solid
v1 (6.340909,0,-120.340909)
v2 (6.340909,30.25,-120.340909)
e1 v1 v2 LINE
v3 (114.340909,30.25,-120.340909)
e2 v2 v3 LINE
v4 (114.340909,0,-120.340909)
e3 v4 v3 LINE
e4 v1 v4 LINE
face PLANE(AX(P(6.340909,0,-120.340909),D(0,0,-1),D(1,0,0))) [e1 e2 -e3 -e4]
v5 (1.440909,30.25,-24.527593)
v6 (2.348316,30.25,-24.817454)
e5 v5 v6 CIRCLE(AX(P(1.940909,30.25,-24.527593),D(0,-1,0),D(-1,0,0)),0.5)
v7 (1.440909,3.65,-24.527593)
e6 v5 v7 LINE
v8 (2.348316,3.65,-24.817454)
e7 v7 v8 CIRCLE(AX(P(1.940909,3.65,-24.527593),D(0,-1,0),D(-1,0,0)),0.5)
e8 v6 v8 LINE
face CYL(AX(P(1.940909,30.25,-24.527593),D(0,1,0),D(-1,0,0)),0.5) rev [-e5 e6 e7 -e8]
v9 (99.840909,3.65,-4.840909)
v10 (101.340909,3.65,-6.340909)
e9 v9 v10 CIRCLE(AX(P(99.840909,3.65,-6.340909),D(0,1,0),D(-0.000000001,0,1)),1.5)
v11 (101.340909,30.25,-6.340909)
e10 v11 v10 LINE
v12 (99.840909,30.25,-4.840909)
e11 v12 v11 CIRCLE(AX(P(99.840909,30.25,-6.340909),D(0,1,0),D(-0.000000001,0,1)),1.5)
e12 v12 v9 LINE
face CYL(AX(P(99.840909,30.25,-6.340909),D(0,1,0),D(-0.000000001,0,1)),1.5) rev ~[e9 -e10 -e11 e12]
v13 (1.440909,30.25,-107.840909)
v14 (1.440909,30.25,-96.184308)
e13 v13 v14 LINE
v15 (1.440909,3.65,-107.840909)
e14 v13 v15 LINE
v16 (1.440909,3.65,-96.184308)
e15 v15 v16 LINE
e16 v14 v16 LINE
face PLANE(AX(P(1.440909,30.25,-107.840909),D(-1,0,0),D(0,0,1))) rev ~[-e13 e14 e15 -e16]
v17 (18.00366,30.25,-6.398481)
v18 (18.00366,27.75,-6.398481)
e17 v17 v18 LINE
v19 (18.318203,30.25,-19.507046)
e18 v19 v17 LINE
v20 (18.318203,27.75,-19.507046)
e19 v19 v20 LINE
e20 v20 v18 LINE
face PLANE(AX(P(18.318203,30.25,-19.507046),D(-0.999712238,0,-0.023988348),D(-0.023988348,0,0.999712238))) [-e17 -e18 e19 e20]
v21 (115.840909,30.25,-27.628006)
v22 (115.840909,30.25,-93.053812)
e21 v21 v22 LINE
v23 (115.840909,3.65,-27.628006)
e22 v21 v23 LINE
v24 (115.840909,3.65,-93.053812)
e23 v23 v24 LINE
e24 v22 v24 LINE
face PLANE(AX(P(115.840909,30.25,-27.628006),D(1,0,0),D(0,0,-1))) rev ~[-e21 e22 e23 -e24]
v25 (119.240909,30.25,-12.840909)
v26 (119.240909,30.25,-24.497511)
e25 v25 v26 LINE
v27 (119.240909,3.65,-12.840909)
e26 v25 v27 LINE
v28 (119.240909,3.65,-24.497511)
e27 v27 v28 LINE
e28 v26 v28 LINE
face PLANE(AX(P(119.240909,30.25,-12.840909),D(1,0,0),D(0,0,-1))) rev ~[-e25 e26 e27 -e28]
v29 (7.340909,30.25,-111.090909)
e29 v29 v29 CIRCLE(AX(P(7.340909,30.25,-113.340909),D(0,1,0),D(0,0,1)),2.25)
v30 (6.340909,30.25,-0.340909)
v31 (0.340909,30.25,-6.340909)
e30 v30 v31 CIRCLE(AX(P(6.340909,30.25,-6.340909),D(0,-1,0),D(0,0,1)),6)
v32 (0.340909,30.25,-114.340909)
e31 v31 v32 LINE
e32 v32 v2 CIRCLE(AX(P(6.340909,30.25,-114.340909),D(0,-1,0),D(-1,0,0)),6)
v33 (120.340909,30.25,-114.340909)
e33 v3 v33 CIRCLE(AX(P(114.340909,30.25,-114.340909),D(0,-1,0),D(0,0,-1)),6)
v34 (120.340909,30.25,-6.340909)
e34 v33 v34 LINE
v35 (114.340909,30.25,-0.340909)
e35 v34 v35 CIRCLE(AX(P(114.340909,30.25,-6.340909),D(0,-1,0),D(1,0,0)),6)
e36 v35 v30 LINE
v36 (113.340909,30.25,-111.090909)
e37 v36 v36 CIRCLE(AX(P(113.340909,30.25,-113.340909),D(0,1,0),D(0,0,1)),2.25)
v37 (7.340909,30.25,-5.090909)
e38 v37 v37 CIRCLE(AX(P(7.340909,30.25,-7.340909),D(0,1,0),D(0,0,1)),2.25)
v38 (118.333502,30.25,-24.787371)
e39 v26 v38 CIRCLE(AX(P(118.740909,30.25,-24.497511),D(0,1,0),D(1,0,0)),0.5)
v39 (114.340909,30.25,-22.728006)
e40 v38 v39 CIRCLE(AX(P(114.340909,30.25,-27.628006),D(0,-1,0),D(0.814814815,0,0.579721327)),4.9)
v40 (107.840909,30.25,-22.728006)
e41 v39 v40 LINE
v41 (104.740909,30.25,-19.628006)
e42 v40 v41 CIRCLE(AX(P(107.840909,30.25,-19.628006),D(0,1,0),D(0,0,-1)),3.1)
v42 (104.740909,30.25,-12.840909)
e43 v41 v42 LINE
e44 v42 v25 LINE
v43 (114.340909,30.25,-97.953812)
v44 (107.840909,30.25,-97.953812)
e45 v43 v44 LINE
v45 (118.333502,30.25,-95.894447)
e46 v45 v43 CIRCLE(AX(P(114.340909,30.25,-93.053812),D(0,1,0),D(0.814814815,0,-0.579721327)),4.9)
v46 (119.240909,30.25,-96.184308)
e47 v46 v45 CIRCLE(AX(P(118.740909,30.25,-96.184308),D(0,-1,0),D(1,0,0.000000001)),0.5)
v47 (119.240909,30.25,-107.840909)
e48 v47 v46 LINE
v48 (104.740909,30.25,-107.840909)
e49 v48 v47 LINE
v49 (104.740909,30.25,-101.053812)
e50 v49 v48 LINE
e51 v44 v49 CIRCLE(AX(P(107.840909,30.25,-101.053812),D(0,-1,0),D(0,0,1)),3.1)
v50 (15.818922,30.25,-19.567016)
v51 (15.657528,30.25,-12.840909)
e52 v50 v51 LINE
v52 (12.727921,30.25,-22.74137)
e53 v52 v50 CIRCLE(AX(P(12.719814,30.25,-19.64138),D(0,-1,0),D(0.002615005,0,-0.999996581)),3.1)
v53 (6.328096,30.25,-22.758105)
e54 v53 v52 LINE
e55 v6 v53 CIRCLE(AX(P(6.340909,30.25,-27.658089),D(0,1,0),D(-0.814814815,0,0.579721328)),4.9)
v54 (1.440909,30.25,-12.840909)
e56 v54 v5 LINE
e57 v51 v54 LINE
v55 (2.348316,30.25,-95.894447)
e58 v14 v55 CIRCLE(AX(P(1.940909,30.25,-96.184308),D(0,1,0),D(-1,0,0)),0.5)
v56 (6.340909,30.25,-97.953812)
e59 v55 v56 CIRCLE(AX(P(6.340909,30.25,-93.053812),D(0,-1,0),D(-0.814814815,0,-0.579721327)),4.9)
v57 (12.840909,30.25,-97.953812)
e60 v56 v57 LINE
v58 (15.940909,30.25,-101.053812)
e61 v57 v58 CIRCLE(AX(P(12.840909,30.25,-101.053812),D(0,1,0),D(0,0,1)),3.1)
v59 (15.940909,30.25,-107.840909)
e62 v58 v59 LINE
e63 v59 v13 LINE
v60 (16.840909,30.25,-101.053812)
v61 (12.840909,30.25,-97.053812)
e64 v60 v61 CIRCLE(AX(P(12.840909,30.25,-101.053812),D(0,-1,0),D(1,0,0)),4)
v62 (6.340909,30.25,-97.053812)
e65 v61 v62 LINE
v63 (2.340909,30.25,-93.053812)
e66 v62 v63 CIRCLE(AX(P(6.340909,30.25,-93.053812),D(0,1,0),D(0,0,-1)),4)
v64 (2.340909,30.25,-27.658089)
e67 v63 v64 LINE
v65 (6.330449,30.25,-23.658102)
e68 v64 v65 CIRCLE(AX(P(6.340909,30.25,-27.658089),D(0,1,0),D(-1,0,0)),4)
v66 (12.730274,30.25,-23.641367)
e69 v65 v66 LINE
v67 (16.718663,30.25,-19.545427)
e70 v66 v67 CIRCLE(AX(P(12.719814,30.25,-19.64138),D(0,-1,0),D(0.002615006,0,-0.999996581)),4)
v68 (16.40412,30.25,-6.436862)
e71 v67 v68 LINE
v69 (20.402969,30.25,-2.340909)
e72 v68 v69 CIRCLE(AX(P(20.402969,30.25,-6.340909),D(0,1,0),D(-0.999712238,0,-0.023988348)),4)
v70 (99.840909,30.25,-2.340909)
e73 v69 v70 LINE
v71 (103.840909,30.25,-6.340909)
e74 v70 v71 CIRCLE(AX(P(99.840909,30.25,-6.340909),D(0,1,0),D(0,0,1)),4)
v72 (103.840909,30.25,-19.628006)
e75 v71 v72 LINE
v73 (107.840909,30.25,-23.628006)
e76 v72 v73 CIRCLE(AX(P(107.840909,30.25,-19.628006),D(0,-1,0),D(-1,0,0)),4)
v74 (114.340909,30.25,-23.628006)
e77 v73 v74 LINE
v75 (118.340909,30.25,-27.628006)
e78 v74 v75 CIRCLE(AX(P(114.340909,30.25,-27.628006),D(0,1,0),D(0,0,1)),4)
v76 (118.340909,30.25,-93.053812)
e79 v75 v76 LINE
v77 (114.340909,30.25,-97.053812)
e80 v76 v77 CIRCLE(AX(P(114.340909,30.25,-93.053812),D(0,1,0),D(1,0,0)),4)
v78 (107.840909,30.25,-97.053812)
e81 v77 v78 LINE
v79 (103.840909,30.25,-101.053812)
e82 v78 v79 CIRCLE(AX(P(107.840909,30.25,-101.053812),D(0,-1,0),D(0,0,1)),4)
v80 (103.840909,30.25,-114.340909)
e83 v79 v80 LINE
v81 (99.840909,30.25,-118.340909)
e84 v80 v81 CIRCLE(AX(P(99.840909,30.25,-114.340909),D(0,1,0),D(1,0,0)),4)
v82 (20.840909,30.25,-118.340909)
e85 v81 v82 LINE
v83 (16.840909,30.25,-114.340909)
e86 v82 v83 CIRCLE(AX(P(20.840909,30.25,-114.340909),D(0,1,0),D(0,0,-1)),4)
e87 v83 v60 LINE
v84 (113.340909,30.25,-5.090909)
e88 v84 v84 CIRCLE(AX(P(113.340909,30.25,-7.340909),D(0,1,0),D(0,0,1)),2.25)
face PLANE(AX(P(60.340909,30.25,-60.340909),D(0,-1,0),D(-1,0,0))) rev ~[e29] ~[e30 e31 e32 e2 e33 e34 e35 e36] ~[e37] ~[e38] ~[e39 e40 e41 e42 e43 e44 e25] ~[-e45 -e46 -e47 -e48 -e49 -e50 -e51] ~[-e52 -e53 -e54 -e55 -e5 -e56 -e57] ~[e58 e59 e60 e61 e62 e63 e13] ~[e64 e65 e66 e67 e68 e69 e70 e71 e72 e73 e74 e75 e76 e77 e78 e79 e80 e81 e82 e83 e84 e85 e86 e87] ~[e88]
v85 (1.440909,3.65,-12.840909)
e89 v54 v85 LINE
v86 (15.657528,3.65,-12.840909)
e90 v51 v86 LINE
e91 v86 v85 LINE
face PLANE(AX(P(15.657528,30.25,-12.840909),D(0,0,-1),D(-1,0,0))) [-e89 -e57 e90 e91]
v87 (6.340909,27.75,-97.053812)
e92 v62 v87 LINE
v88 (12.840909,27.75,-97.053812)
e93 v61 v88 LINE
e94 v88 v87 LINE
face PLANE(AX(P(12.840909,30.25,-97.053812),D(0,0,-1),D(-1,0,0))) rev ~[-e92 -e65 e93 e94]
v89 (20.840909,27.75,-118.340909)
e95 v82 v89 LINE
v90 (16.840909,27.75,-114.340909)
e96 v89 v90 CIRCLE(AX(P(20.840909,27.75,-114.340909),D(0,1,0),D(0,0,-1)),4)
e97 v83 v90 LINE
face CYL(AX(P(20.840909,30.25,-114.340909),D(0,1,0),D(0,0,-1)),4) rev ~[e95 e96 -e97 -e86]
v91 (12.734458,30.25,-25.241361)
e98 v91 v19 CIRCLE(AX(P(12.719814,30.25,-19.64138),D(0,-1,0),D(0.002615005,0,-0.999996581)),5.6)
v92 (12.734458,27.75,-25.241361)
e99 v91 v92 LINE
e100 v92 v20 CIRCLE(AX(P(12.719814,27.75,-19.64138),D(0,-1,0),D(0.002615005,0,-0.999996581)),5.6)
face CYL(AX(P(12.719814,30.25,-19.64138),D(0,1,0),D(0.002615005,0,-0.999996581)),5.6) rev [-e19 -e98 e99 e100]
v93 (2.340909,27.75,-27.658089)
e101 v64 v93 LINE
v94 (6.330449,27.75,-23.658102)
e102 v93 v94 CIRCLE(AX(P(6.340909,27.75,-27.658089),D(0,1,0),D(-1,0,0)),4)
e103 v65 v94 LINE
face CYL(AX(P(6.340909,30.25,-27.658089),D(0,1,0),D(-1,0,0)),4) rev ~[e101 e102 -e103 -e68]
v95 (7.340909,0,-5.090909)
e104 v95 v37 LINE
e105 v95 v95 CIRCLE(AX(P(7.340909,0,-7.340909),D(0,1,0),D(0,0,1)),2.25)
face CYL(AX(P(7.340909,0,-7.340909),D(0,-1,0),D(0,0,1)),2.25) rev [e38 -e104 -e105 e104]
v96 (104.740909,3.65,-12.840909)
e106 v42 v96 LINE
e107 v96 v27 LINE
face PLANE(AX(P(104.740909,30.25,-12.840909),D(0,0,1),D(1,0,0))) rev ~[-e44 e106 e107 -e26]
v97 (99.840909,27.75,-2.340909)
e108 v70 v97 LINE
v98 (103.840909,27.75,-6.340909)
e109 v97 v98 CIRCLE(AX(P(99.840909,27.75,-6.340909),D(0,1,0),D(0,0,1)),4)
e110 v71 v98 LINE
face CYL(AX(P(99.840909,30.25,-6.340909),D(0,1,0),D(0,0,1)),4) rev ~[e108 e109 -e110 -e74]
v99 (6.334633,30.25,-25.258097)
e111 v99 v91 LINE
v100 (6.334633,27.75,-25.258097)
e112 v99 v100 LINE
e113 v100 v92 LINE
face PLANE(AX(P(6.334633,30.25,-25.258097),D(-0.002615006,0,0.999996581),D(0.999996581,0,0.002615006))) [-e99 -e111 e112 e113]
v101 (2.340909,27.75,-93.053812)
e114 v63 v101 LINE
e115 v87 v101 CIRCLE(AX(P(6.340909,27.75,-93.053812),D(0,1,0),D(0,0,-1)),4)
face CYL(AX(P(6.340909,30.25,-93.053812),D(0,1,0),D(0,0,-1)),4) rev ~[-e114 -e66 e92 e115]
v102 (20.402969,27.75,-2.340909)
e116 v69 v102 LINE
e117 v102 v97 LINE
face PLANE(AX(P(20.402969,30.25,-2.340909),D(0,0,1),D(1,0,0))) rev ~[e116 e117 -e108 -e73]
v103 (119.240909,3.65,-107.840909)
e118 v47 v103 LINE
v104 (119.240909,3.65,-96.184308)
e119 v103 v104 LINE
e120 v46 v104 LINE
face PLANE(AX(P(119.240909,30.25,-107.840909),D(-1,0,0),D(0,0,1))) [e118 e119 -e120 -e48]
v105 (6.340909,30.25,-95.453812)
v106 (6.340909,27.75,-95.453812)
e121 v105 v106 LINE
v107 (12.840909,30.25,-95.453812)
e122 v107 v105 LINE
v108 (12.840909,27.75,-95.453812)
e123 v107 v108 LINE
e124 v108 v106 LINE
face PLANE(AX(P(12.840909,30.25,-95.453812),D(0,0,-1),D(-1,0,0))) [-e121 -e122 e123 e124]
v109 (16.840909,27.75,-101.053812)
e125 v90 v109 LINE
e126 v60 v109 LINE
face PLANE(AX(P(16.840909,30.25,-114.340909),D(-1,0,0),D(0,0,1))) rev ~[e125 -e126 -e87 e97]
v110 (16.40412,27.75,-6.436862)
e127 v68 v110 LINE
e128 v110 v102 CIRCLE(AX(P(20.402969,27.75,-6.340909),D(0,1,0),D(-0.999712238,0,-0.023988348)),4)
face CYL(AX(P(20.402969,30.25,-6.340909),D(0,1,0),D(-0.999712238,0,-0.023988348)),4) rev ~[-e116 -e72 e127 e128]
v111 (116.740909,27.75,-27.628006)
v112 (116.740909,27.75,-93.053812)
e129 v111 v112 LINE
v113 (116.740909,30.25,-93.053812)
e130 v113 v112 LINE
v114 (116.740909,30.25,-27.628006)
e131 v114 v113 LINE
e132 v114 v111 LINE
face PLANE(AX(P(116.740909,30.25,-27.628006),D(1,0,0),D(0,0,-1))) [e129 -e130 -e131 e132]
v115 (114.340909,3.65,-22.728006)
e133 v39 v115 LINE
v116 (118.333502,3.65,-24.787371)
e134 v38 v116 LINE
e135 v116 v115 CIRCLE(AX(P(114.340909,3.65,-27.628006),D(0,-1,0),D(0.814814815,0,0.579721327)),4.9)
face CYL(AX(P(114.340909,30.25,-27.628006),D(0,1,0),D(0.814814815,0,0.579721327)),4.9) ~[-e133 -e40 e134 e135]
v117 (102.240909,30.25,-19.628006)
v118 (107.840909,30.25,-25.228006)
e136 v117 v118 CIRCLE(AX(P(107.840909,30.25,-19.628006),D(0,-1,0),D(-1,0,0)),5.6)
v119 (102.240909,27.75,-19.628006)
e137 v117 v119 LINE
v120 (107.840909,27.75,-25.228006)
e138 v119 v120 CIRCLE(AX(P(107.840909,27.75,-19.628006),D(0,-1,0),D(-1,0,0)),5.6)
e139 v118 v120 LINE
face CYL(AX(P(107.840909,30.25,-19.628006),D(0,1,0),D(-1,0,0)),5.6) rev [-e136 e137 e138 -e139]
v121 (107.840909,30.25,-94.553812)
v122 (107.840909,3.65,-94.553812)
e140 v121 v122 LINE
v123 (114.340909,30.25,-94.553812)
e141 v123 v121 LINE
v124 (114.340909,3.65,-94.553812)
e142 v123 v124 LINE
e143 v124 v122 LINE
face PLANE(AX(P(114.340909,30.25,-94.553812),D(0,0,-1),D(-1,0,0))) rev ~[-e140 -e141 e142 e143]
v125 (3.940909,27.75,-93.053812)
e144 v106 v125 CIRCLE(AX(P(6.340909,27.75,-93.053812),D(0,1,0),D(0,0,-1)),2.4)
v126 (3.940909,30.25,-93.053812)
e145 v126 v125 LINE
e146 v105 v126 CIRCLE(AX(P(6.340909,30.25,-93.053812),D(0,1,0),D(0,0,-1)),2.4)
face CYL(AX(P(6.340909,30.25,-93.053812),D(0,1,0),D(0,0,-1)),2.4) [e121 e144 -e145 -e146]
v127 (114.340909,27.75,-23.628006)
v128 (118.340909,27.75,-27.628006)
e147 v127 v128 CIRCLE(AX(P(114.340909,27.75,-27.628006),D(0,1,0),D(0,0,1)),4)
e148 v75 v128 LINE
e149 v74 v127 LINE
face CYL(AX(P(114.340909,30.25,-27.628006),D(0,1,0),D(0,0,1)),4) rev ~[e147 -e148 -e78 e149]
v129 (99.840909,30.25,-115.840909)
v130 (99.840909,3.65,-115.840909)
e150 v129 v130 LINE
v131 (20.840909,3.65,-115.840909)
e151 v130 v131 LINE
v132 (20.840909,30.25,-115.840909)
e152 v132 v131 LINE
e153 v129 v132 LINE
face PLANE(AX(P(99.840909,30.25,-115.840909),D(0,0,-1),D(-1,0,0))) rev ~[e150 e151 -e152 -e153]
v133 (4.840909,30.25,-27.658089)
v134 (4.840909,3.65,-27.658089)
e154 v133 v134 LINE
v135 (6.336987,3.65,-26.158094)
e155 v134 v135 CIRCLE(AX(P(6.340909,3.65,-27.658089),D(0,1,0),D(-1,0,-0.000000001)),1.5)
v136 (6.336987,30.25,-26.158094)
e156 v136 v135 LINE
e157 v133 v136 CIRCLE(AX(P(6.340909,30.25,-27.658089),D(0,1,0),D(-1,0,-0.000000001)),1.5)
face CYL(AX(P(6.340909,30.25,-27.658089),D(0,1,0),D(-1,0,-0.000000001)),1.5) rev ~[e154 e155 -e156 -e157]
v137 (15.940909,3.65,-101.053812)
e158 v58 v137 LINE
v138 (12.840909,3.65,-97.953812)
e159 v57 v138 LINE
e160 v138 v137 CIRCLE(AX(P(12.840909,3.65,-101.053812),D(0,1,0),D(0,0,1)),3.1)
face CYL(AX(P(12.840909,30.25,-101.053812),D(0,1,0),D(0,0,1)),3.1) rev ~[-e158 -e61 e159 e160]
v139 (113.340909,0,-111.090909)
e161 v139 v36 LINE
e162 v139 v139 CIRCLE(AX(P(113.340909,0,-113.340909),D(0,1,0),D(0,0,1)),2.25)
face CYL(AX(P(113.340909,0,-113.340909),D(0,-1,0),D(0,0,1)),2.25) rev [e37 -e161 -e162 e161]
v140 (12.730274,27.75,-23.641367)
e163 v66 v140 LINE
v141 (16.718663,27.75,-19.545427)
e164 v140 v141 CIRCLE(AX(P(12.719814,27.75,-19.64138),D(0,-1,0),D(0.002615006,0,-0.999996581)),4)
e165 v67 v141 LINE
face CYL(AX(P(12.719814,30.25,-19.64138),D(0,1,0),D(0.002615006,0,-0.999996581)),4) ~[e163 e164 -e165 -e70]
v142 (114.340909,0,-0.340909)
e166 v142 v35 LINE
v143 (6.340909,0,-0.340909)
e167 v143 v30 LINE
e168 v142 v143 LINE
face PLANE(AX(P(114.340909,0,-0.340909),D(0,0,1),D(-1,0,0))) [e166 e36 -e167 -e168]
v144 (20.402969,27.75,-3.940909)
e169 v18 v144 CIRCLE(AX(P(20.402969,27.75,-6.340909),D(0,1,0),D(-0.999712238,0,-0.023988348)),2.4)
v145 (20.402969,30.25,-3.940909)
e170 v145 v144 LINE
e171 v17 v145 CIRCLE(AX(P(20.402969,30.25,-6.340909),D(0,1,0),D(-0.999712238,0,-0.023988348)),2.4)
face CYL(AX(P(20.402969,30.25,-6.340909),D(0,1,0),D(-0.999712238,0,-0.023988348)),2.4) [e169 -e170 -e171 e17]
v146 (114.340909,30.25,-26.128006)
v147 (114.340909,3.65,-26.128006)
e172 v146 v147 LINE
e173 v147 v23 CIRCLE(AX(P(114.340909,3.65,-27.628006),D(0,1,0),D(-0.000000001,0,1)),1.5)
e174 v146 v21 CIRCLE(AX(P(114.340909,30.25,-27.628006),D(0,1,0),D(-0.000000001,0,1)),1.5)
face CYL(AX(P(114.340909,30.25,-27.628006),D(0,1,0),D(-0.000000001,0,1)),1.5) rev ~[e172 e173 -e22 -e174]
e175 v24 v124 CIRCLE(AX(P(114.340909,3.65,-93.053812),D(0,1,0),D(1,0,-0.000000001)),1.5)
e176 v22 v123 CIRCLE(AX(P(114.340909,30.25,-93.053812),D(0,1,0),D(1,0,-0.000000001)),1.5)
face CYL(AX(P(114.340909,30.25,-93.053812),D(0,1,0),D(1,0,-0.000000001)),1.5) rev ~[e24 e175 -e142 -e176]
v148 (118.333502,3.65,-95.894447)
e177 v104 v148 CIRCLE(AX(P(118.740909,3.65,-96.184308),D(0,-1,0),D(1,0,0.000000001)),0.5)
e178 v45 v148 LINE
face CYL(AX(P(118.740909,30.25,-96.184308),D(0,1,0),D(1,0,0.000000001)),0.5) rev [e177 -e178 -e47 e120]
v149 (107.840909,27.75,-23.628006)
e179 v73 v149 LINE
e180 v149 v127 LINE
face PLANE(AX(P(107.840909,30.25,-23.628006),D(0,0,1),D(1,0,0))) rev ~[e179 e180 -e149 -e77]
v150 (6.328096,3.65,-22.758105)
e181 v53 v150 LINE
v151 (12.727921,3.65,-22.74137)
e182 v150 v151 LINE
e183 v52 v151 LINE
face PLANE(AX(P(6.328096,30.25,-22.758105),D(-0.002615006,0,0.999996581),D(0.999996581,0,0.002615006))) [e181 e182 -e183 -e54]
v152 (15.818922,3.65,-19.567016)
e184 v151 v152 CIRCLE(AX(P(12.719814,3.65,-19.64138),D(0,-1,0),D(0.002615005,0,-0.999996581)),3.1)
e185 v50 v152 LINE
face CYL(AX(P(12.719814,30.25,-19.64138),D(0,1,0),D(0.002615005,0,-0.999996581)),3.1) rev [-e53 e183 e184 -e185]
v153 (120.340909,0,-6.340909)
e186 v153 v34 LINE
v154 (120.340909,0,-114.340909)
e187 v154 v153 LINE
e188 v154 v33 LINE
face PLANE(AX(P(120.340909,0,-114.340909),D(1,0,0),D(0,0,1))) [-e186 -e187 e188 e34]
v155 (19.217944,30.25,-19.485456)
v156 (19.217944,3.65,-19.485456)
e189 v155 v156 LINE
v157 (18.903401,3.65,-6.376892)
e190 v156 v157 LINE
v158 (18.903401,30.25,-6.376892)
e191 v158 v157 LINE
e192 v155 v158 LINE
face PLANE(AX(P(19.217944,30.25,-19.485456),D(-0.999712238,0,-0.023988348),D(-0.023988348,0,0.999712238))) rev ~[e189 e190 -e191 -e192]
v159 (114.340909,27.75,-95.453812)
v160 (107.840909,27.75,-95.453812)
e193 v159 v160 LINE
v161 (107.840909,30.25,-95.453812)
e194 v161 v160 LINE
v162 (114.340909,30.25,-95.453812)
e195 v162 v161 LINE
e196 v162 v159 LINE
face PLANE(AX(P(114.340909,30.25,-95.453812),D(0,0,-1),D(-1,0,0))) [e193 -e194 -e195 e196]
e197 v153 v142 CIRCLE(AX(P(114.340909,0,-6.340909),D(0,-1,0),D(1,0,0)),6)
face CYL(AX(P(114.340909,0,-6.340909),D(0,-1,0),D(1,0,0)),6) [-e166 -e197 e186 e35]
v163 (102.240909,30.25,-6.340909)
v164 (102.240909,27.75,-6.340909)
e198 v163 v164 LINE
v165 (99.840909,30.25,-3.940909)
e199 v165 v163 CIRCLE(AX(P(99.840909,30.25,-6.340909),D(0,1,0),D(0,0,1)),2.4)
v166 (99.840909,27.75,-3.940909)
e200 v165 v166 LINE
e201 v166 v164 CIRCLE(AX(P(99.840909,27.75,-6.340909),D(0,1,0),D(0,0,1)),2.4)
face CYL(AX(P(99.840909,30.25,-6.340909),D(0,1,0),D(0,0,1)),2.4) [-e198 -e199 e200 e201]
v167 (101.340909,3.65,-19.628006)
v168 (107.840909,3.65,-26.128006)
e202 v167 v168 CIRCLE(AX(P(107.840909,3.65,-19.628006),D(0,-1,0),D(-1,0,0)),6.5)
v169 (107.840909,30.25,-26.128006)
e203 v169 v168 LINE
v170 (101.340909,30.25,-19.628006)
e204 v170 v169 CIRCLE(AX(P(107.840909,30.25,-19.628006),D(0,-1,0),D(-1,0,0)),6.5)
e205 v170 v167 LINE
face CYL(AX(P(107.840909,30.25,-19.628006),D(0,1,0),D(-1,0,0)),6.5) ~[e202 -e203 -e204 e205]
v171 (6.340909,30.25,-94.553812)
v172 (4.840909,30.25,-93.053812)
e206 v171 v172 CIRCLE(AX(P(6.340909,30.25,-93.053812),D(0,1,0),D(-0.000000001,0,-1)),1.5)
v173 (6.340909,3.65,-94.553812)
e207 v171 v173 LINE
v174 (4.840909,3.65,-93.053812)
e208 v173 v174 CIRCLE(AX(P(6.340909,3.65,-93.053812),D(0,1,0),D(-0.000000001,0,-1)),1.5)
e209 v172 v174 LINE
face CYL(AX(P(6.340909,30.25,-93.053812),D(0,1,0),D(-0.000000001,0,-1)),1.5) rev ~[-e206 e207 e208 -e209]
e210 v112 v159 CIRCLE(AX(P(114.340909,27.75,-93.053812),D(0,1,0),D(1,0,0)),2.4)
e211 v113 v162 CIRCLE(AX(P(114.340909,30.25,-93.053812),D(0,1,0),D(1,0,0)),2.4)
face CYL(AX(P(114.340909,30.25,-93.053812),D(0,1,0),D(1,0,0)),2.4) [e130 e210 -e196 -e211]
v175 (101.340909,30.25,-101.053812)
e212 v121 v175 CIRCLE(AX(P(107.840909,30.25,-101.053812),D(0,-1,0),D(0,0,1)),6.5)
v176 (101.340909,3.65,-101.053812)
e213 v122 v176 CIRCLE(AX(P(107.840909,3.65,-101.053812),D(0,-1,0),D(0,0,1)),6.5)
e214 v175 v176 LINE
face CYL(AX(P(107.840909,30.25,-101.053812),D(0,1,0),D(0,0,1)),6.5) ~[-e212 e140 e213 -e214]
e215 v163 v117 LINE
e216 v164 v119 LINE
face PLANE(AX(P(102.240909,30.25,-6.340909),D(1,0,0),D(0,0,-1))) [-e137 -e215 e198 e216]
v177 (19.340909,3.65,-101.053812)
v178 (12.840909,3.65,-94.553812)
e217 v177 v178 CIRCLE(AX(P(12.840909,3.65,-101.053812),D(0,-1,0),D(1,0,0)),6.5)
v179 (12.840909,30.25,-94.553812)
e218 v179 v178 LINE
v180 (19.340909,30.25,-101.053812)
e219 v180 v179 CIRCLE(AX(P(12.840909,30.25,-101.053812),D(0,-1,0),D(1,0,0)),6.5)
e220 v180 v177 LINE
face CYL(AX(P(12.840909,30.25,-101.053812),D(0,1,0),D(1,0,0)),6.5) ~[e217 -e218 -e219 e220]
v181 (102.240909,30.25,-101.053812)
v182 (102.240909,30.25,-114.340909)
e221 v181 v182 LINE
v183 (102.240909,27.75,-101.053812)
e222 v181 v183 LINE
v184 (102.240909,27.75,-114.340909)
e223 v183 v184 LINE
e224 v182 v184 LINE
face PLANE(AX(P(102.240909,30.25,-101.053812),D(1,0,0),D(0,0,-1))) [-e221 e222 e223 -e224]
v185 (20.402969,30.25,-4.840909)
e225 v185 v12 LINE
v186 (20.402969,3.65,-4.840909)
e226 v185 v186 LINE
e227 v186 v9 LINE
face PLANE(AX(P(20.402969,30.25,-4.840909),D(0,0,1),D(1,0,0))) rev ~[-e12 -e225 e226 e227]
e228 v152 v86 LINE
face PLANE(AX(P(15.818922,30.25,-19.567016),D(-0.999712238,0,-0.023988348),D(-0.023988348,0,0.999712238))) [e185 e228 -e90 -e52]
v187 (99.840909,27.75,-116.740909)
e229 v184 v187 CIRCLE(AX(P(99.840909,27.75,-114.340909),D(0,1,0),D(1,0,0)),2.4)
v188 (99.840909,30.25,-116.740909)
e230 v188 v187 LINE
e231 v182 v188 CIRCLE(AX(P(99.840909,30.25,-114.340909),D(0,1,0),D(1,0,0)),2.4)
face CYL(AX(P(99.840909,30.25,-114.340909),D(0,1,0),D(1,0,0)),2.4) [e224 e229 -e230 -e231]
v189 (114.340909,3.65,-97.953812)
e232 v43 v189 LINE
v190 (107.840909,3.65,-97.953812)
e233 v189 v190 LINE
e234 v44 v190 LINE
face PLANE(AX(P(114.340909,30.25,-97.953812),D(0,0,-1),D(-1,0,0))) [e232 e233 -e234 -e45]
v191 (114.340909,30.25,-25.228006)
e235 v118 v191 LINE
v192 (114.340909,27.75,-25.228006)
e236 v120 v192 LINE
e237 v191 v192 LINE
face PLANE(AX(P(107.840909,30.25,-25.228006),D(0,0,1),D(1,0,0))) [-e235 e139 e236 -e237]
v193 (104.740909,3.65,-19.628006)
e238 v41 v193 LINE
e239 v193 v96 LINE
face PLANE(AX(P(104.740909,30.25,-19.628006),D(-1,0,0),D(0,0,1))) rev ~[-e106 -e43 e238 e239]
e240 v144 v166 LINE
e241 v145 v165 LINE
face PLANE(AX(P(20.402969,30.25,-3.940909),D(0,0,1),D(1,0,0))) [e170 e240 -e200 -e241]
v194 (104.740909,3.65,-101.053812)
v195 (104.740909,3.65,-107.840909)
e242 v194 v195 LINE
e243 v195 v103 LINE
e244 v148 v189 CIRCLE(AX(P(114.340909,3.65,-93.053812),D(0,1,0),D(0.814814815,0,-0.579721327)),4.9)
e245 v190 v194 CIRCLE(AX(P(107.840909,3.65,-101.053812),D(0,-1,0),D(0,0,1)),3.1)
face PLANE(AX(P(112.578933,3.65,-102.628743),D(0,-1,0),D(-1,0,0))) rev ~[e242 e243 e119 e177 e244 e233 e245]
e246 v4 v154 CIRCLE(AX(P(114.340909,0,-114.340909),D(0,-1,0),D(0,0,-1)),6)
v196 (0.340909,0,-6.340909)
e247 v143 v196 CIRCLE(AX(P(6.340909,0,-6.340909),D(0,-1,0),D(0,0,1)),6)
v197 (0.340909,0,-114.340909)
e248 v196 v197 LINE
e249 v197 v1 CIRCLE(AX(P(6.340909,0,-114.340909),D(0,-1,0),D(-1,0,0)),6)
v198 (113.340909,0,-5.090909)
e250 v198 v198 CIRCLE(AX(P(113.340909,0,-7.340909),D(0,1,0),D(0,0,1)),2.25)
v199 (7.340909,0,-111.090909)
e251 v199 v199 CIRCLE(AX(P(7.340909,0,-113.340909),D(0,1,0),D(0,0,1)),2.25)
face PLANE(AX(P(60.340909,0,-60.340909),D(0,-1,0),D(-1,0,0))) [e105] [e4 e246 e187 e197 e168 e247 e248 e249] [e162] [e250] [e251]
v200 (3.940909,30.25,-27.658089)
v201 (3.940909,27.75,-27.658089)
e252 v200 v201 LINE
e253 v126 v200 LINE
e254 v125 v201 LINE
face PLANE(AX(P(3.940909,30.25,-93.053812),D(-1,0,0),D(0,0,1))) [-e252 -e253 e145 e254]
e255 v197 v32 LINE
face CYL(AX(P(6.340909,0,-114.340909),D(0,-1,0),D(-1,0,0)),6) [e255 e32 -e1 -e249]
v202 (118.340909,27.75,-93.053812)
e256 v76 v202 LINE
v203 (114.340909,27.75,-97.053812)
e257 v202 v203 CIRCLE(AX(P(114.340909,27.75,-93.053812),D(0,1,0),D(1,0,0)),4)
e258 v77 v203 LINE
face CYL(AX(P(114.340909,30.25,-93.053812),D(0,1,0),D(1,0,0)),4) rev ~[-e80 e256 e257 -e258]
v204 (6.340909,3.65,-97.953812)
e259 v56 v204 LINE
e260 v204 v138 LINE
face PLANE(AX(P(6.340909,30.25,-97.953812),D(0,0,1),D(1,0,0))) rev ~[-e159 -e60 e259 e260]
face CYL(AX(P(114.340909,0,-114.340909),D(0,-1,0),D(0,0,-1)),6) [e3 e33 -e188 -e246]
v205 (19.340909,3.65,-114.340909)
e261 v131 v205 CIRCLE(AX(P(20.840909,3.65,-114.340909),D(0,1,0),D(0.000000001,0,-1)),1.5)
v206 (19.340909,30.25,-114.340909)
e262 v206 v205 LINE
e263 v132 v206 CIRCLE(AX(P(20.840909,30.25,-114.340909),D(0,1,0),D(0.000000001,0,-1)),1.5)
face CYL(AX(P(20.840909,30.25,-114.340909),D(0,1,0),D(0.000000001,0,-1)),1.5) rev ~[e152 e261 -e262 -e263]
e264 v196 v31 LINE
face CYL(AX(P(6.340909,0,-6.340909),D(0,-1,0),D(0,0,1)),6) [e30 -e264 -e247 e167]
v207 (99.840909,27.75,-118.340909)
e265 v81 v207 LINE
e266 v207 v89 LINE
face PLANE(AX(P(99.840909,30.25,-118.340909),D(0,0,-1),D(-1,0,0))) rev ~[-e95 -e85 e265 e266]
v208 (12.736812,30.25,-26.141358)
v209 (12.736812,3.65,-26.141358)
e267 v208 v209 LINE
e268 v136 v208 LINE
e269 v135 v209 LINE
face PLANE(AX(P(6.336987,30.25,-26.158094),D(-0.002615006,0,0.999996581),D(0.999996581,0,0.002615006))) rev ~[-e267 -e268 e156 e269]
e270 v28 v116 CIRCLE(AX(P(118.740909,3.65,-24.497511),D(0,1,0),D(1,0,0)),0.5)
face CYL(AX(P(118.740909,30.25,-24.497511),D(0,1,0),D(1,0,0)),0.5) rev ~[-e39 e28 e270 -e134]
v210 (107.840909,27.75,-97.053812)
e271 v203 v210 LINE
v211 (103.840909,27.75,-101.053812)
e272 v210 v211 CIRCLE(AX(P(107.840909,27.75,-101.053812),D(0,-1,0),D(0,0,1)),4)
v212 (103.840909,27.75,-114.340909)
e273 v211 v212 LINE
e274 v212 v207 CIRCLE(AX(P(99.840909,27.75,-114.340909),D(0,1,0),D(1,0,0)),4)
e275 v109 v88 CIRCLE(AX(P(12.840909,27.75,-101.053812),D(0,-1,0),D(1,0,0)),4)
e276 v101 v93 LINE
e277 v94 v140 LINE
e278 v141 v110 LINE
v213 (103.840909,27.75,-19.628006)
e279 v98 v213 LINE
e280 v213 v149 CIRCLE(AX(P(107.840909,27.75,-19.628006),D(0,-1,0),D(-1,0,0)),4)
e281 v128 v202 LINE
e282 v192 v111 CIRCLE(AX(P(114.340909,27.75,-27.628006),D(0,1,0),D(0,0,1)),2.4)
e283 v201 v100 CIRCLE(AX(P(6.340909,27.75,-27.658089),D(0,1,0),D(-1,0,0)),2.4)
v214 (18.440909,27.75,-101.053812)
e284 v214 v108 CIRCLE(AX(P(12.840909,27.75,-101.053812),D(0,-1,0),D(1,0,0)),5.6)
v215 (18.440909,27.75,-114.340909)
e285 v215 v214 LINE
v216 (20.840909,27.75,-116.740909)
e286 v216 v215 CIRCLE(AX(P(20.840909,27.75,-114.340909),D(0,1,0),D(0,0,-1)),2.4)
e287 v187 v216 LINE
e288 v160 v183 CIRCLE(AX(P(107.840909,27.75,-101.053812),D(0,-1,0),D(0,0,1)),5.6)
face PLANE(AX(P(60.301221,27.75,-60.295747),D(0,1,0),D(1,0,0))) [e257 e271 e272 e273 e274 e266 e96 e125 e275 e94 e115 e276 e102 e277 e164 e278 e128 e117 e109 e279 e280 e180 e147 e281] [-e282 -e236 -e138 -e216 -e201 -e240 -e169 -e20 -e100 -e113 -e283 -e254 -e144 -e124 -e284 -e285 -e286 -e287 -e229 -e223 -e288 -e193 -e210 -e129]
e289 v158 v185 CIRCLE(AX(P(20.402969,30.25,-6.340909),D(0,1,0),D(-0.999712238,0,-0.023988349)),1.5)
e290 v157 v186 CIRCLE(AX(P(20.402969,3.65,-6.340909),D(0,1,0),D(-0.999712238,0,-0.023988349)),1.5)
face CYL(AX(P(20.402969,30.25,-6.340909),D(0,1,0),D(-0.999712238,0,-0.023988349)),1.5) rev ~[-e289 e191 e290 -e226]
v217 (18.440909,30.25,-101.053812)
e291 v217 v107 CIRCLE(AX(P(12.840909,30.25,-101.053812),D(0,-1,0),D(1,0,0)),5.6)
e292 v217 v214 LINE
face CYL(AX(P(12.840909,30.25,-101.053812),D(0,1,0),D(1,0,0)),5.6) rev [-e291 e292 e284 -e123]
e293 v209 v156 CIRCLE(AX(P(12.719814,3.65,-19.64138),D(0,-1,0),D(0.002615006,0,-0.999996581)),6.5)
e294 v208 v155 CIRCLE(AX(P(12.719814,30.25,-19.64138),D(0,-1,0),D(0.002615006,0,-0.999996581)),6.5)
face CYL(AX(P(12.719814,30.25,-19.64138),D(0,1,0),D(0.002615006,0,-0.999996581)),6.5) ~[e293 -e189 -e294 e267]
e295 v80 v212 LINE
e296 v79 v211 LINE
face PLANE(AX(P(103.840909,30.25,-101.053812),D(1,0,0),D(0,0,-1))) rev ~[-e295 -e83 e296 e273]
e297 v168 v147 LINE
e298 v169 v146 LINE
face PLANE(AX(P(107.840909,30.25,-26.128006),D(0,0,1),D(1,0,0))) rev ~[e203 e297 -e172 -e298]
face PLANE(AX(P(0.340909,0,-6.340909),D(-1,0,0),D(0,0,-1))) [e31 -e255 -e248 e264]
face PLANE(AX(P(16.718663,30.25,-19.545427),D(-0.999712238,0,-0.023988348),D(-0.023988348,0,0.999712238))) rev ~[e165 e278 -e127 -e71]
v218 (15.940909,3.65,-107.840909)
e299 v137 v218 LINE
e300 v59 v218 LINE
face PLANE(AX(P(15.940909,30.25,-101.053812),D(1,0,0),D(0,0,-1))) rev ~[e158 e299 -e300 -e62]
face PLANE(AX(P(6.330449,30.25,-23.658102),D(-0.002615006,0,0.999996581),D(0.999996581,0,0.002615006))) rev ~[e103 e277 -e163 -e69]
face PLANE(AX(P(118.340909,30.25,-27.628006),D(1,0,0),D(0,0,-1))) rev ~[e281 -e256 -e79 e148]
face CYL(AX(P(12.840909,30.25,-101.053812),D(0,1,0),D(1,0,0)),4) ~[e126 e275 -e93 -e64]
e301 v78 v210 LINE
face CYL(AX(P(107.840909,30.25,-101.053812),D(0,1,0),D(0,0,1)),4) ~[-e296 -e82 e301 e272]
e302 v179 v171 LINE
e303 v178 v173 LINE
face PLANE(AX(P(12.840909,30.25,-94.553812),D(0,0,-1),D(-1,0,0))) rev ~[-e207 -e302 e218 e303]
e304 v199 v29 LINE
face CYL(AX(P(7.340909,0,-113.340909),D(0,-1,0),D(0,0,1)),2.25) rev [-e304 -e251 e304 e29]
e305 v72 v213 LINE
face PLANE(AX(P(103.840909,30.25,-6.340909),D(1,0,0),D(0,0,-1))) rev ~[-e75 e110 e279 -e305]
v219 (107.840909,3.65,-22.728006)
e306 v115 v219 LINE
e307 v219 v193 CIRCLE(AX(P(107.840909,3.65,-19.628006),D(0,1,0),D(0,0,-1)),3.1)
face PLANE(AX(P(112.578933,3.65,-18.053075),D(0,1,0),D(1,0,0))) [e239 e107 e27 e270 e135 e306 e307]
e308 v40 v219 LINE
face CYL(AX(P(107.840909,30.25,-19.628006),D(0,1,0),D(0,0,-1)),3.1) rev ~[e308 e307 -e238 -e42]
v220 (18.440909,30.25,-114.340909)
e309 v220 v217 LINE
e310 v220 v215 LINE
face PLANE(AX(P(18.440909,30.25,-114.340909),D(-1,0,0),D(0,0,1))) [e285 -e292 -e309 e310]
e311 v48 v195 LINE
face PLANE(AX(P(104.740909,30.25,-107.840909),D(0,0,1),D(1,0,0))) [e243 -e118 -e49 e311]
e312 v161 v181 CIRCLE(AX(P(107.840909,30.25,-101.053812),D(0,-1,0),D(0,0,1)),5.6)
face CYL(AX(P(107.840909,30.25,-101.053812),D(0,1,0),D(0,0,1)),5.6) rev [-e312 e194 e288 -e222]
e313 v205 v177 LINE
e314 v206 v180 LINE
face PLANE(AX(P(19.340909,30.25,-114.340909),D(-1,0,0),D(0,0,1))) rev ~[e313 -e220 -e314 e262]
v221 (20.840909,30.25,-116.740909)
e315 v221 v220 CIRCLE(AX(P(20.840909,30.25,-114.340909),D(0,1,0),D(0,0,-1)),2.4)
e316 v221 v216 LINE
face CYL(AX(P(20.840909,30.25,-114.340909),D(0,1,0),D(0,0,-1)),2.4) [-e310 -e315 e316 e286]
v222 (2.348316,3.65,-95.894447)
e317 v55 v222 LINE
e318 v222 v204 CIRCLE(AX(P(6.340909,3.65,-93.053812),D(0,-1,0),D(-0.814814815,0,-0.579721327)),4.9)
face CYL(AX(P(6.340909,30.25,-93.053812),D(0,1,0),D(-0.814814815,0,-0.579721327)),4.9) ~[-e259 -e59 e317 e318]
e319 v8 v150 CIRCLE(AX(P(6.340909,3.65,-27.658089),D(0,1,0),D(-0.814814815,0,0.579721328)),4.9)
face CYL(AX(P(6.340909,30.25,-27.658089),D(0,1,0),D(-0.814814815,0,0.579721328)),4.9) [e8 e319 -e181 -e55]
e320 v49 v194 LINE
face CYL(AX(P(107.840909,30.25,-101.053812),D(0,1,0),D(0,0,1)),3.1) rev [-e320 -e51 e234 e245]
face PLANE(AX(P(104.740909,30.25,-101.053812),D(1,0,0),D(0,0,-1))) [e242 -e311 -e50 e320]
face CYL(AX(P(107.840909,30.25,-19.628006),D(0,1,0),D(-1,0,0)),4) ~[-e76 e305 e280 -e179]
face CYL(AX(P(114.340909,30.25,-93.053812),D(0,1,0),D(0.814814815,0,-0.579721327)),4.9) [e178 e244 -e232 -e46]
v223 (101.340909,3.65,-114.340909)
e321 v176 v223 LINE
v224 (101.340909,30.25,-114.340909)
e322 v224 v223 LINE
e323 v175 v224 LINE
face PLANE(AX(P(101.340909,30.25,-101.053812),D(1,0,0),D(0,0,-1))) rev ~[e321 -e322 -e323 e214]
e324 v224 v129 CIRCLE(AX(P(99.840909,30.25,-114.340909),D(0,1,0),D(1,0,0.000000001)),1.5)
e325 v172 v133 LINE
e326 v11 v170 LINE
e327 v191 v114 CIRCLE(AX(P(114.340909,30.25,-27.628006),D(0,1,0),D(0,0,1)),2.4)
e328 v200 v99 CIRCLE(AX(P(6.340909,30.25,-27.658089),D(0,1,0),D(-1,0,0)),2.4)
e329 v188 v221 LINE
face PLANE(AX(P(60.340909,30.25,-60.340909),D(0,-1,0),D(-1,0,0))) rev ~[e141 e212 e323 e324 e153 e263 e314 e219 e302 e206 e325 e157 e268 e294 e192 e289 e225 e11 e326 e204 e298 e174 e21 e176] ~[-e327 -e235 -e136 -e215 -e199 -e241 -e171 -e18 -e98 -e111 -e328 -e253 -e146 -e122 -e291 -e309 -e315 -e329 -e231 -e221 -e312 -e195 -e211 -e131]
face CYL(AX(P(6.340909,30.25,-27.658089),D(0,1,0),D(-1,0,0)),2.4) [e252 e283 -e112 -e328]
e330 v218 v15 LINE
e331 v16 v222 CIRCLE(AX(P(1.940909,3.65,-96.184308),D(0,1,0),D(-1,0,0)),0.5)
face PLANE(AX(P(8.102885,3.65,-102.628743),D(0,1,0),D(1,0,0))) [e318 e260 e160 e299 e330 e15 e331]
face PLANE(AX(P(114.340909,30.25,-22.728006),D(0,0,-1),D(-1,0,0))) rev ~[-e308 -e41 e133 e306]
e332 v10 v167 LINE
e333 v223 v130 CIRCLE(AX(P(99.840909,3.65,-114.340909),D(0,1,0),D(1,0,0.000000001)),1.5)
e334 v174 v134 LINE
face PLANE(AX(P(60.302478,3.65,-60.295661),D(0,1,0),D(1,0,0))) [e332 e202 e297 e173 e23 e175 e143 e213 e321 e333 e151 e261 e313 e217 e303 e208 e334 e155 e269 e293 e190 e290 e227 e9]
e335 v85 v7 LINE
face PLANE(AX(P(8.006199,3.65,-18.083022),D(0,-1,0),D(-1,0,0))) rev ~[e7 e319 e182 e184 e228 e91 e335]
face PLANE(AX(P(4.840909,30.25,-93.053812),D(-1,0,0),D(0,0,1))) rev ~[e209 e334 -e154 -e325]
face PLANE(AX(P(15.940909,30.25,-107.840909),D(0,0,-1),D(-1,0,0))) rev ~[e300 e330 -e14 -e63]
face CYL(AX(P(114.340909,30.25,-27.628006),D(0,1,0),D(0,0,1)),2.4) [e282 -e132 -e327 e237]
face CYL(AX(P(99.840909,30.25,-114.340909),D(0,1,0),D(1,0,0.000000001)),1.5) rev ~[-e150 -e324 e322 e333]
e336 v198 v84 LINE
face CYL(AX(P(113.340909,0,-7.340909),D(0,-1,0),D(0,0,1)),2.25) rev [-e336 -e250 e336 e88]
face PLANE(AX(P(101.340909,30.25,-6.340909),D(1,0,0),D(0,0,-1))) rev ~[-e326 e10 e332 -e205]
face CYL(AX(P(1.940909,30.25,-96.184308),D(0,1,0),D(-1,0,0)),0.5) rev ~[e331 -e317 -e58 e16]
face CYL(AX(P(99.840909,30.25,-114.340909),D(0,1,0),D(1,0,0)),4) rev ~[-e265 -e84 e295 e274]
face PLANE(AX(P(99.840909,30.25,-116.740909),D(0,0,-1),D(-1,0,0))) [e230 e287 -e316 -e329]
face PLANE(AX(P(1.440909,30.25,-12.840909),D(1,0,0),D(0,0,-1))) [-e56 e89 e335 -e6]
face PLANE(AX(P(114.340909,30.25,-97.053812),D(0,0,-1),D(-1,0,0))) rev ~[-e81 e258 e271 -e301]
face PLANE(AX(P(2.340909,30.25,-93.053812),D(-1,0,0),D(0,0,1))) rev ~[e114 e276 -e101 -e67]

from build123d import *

# Parameters (mm, degrees)
SKETCH_1_R          = 2.25
EXTRUDE_1_DEPTH     = 30.25
CUT_EXTRUDE_1_DEPTH = 26.6
CUT_EXTRUDE_2_DEPTH = 2.5


with BuildPart() as part:
    # 草圖1 → 填料-伸長1 (new body)
    with BuildSketch(Plane(origin=(0, 0, 0), x_dir=(1, 0, 0), z_dir=(0, 1, 0))):
        with BuildLine():
            Line((6.340909091, 120.340909091), (114.340909091, 120.340909091))
            ThreePointArc((114.340909091, 120.340909091), (118.583549778, 118.583549778), (120.340909091, 114.340909091))
            Line((120.340909091, 114.340909091), (120.340909091, 6.340909091))
            ThreePointArc((120.340909091, 6.340909091), (118.583549778, 2.098268404), (114.340909091, 0.340909091))
            Line((114.340909091, 0.340909091), (6.340909091, 0.340909091))
            ThreePointArc((6.340909091, 0.340909091), (2.098268404, 2.098268404), (0.340909091, 6.340909091))
            Line((0.340909091, 6.340909091), (0.340909091, 114.340909091))
            ThreePointArc((0.340909091, 114.340909091), (2.098268404, 118.583549778), (6.340909091, 120.340909091))
        make_face()
        with Locations(Location((7.340909091, 113.340909091, 0), (0, 0, 270))):
            Circle(SKETCH_1_R, mode=Mode.SUBTRACT)
        with Locations(Location((113.340909091, 113.340909091, 0), (0, 0, 270))):
            Circle(SKETCH_1_R, mode=Mode.SUBTRACT)
        with Locations(Location((7.340909091, 7.340909091, 0), (0, 0, 270))):
            Circle(SKETCH_1_R, mode=Mode.SUBTRACT)
        with Locations(Location((113.340909091, 7.340909091, 0), (0, 0, 270))):
            Circle(SKETCH_1_R, mode=Mode.SUBTRACT)
    extrude(amount=EXTRUDE_1_DEPTH)

    # 草圖2 → 除料-伸長1 (cut)
    with BuildSketch(Plane(origin=(0, 30.25, 0), x_dir=(1, 0, 0), z_dir=(0, 1, 0))):
        with BuildLine():
            Line((15.940908992, 101.053812481), (15.940908992, 107.840909091))
            Line((15.940908992, 107.840909091), (1.440909091, 107.840909091))
            Line((1.440909091, 107.840909091), (1.440909091, 96.184307649))
            ThreePointArc((1.440909091, 96.184307649), (1.788763936, 95.708017977), (2.348316498, 95.894446985))
            ThreePointArc((2.348316498, 95.894446985), (4.094702185, 97.408643653), (6.340909091, 97.953812481))
            Line((6.340909091, 97.953812481), (12.840908992, 97.953812481))
            ThreePointArc((12.840908992, 97.953812481), (15.032940014, 98.861781459), (15.940908992, 101.053812481))
        make_face()
        with BuildLine():
            Line((6.328095563, 22.75810538), (12.727920948, 22.741369743))
            ThreePointArc((12.727920948, 22.741369743), (14.940810853, 21.804058056), (15.818922369, 19.567016463))
            Line((15.818922369, 19.567016463), (15.65752772, 12.840909091))
            Line((15.65752772, 12.840909091), (1.440909091, 12.840909091))
            Line((1.440909091, 12.840909091), (1.440909091, 24.527593458))
            ThreePointArc((1.440909091, 24.527593458), (1.788763936, 25.00388313), (2.348316498, 24.817454121))
            ThreePointArc((2.348316498, 24.817454121), (4.089010146, 23.306198101), (6.328095563, 22.75810538))
        make_face()
        with BuildLine():
            Line((99.84090919, 115.840909091), (20.840908992, 115.840909091))
            ThreePointArc((20.840908992, 115.840909091), (19.78024882, 115.401569263), (19.340908992, 114.340909091))
            Line((19.340908992, 114.340909091), (19.340908992, 101.053812481))
            ThreePointArc((19.340908992, 101.053812481), (17.43710307, 96.457618403), (12.840908992, 94.553812481))
            Line((12.840908992, 94.553812481), (6.340909091, 94.553812481))
            ThreePointArc((6.340909091, 94.553812481), (5.280248919, 94.114472652), (4.840909091, 93.053812481))
            Line((4.840909091, 93.053812481), (4.840909091, 27.658088626))
            ThreePointArc((4.840909091, 27.658088626), (5.278863008, 26.598816178), (6.336986582, 26.158093755))
            Line((6.336986582, 26.158093755), (12.736811967, 26.141358118))
            ThreePointArc((12.736811967, 26.141358118), (17.376742412, 24.176027162), (19.217943979, 19.485456079))
            Line((19.217943979, 19.485456079), (18.903400656, 6.376891613))
            ThreePointArc((18.903400656, 6.376891613), (19.32966249, 5.293047884), (20.402969013, 4.840909091))
            Line((20.402969013, 4.840909091), (99.84090919, 4.840909091))
            ThreePointArc((99.84090919, 4.840909091), (100.901569362, 5.280248919), (101.34090919, 6.340909091))
            Line((101.34090919, 6.340909091), (101.34090919, 19.628005701))
            ThreePointArc((101.34090919, 19.628005701), (103.244715112, 24.224199779), (107.84090919, 26.128005701))
            Line((107.84090919, 26.128005701), (114.340909091, 26.128005701))
            ThreePointArc((114.340909091, 26.128005701), (115.401569263, 26.567345529), (115.840909091, 27.628005701))
            Line((115.840909091, 27.628005701), (115.840909091, 93.053812481))
            ThreePointArc((115.840909091, 93.053812481), (115.401569263, 94.114472652), (114.340909091, 94.553812481))
            Line((114.340909091, 94.553812481), (107.84090919, 94.553812481))
            ThreePointArc((107.84090919, 94.553812481), (103.244715112, 96.457618403), (101.34090919, 101.053812481))
            Line((101.34090919, 101.053812481), (101.34090919, 114.340909091))
            ThreePointArc((101.34090919, 114.340909091), (100.901569362, 115.401569263), (99.84090919, 115.840909091))
        make_face()
        with BuildLine():
            Line((104.74090919, 19.628005701), (104.74090919, 12.840909091))
            Line((104.74090919, 12.840909091), (119.240909091, 12.840909091))
            Line((119.240909091, 12.840909091), (119.240909091, 24.497510533))
            ThreePointArc((119.240909091, 24.497510533), (118.893054246, 24.973800205), (118.333501683, 24.787371196))
            ThreePointArc((118.333501683, 24.787371196), (116.587115997, 23.273174529), (114.340909091, 22.728005701))
            Line((114.340909091, 22.728005701), (107.84090919, 22.728005701))
            ThreePointArc((107.84090919, 22.728005701), (105.648878168, 21.820036723), (104.74090919, 19.628005701))
        make_face()
        with BuildLine():
            Line((114.340909091, 97.953812481), (107.84090919, 97.953812481))
            ThreePointArc((107.84090919, 97.953812481), (105.648878168, 98.861781459), (104.74090919, 101.053812481))
            Line((104.74090919, 101.053812481), (104.74090919, 107.840909091))
            Line((104.74090919, 107.840909091), (119.240909091, 107.840909091))
            Line((119.240909091, 107.840909091), (119.240909091, 96.184307649))
            ThreePointArc((119.240909091, 96.184307649), (118.893054246, 95.708017977), (118.333501683, 95.894446985))
            ThreePointArc((118.333501683, 95.894446985), (116.587115997, 97.408643653), (114.340909091, 97.953812481))
        make_face()
    extrude(amount=-CUT_EXTRUDE_1_DEPTH, mode=Mode.SUBTRACT)

    # 草圖3 → 除料-伸長2 (cut)
    with BuildSketch(Plane(origin=(0, 30.25, 0), x_dir=(1, 0, 0), z_dir=(0, 1, 0))):
        with BuildLine():
            Line((103.84090919, 101.053812481), (103.84090919, 114.340909091))
            ThreePointArc((103.84090919, 114.340909091), (102.669336315, 117.169336216), (99.84090919, 118.340909091))
            Line((99.84090919, 118.340909091), (20.840908992, 118.340909091))
            ThreePointArc((20.840908992, 118.340909091), (18.012481867, 117.169336216), (16.840908992, 114.340909091))
            Line((16.840908992, 114.340909091), (16.840908992, 101.053812481))
            ThreePointArc((16.840908992, 101.053812481), (15.669336117, 98.225385356), (12.840908992, 97.053812481))
            Line((12.840908992, 97.053812481), (6.340909091, 97.053812481))
            ThreePointArc((6.340909091, 97.053812481), (3.512481966, 95.882239605), (2.340909091, 93.053812481))
            Line((2.340909091, 93.053812481), (2.340909091, 27.658088626))
            ThreePointArc((2.340909091, 27.658088626), (3.508786204, 24.833362099), (6.330449068, 23.658102303))
            Line((6.330449068, 23.658102303), (12.730274453, 23.641366666))
            ThreePointArc((12.730274453, 23.641366666), (15.585616265, 22.431932231), (16.718663383, 19.545426949))
            Line((16.718663383, 19.545426949), (16.40412006, 6.436862484))
            ThreePointArc((16.40412006, 6.436862484), (17.540818286, 3.54661254), (20.402969013, 2.340909091))
            Line((20.402969013, 2.340909091), (99.84090919, 2.340909091))
            ThreePointArc((99.84090919, 2.340909091), (102.669336315, 3.512481966), (103.84090919, 6.340909091))
            Line((103.84090919, 6.340909091), (103.84090919, 19.628005701))
            ThreePointArc((103.84090919, 19.628005701), (105.012482065, 22.456432826), (107.84090919, 23.628005701))
            Line((107.84090919, 23.628005701), (114.340909091, 23.628005701))
            ThreePointArc((114.340909091, 23.628005701), (117.169336216, 24.799578576), (118.340909091, 27.628005701))
            Line((118.340909091, 27.628005701), (118.340909091, 93.053812481))
            ThreePointArc((118.340909091, 93.053812481), (117.169336216, 95.882239605), (114.340909091, 97.053812481))
            Line((114.340909091, 97.053812481), (107.84090919, 97.053812481))
            ThreePointArc((107.84090919, 97.053812481), (105.012482065, 98.225385356), (103.84090919, 101.053812481))
        make_face()
        with BuildLine():
            Line((114.340909091, 95.453812481), (107.84090919, 95.453812481))
            ThreePointArc((107.84090919, 95.453812481), (103.881111215, 97.094014506), (102.24090919, 101.053812481))
            Line((102.24090919, 101.053812481), (102.24090919, 114.340909091))
            ThreePointArc((102.24090919, 114.340909091), (101.537965465, 116.037965366), (99.84090919, 116.740909091))
            Line((99.84090919, 116.740909091), (20.840908992, 116.740909091))
            ThreePointArc((20.840908992, 116.740909091), (19.143852717, 116.037965366), (18.440908992, 114.340909091))
            Line((18.440908992, 114.340909091), (18.440908992, 101.053812481))
            ThreePointArc((18.440908992, 101.053812481), (16.800706967, 97.094014506), (12.840908992, 95.453812481))
            Line((12.840908992, 95.453812481), (6.340909091, 95.453812481))
            ThreePointArc((6.340909091, 95.453812481), (4.643852816, 94.750868756), (3.940909091, 93.053812481))
            Line((3.940909091, 93.053812481), (3.940909091, 27.658088626))
            ThreePointArc((3.940909091, 27.658088626), (4.641635359, 25.96325271), (6.334633077, 25.258096832))
            Line((6.334633077, 25.258096832), (12.734458462, 25.241361195))
            ThreePointArc((12.734458462, 25.241361195), (16.731936999, 23.548152987), (18.318202964, 19.507045592))
            Line((18.318202964, 19.507045592), (18.003659641, 6.398481127))
            ThreePointArc((18.003659641, 6.398481127), (18.685678577, 4.66433116), (20.402969013, 3.940909091))
            Line((20.402969013, 3.940909091), (99.84090919, 3.940909091))
            ThreePointArc((99.84090919, 3.940909091), (101.537965465, 4.643852816), (102.24090919, 6.340909091))
            Line((102.24090919, 6.340909091), (102.24090919, 19.628005701))
            ThreePointArc((102.24090919, 19.628005701), (103.881111215, 23.587803676), (107.84090919, 25.228005701))
            Line((107.84090919, 25.228005701), (114.340909091, 25.228005701))
            ThreePointArc((114.340909091, 25.228005701), (116.037965366, 25.930949426), (116.740909091, 27.628005701))
            Line((116.740909091, 27.628005701), (116.740909091, 93.053812481))
            ThreePointArc((116.740909091, 93.053812481), (116.037965366, 94.750868756), (114.340909091, 95.453812481))
        make_face(mode=Mode.SUBTRACT)
    extrude(amount=-CUT_EXTRUDE_2_DEPTH, mode=Mode.SUBTRACT)


solid = part.part
